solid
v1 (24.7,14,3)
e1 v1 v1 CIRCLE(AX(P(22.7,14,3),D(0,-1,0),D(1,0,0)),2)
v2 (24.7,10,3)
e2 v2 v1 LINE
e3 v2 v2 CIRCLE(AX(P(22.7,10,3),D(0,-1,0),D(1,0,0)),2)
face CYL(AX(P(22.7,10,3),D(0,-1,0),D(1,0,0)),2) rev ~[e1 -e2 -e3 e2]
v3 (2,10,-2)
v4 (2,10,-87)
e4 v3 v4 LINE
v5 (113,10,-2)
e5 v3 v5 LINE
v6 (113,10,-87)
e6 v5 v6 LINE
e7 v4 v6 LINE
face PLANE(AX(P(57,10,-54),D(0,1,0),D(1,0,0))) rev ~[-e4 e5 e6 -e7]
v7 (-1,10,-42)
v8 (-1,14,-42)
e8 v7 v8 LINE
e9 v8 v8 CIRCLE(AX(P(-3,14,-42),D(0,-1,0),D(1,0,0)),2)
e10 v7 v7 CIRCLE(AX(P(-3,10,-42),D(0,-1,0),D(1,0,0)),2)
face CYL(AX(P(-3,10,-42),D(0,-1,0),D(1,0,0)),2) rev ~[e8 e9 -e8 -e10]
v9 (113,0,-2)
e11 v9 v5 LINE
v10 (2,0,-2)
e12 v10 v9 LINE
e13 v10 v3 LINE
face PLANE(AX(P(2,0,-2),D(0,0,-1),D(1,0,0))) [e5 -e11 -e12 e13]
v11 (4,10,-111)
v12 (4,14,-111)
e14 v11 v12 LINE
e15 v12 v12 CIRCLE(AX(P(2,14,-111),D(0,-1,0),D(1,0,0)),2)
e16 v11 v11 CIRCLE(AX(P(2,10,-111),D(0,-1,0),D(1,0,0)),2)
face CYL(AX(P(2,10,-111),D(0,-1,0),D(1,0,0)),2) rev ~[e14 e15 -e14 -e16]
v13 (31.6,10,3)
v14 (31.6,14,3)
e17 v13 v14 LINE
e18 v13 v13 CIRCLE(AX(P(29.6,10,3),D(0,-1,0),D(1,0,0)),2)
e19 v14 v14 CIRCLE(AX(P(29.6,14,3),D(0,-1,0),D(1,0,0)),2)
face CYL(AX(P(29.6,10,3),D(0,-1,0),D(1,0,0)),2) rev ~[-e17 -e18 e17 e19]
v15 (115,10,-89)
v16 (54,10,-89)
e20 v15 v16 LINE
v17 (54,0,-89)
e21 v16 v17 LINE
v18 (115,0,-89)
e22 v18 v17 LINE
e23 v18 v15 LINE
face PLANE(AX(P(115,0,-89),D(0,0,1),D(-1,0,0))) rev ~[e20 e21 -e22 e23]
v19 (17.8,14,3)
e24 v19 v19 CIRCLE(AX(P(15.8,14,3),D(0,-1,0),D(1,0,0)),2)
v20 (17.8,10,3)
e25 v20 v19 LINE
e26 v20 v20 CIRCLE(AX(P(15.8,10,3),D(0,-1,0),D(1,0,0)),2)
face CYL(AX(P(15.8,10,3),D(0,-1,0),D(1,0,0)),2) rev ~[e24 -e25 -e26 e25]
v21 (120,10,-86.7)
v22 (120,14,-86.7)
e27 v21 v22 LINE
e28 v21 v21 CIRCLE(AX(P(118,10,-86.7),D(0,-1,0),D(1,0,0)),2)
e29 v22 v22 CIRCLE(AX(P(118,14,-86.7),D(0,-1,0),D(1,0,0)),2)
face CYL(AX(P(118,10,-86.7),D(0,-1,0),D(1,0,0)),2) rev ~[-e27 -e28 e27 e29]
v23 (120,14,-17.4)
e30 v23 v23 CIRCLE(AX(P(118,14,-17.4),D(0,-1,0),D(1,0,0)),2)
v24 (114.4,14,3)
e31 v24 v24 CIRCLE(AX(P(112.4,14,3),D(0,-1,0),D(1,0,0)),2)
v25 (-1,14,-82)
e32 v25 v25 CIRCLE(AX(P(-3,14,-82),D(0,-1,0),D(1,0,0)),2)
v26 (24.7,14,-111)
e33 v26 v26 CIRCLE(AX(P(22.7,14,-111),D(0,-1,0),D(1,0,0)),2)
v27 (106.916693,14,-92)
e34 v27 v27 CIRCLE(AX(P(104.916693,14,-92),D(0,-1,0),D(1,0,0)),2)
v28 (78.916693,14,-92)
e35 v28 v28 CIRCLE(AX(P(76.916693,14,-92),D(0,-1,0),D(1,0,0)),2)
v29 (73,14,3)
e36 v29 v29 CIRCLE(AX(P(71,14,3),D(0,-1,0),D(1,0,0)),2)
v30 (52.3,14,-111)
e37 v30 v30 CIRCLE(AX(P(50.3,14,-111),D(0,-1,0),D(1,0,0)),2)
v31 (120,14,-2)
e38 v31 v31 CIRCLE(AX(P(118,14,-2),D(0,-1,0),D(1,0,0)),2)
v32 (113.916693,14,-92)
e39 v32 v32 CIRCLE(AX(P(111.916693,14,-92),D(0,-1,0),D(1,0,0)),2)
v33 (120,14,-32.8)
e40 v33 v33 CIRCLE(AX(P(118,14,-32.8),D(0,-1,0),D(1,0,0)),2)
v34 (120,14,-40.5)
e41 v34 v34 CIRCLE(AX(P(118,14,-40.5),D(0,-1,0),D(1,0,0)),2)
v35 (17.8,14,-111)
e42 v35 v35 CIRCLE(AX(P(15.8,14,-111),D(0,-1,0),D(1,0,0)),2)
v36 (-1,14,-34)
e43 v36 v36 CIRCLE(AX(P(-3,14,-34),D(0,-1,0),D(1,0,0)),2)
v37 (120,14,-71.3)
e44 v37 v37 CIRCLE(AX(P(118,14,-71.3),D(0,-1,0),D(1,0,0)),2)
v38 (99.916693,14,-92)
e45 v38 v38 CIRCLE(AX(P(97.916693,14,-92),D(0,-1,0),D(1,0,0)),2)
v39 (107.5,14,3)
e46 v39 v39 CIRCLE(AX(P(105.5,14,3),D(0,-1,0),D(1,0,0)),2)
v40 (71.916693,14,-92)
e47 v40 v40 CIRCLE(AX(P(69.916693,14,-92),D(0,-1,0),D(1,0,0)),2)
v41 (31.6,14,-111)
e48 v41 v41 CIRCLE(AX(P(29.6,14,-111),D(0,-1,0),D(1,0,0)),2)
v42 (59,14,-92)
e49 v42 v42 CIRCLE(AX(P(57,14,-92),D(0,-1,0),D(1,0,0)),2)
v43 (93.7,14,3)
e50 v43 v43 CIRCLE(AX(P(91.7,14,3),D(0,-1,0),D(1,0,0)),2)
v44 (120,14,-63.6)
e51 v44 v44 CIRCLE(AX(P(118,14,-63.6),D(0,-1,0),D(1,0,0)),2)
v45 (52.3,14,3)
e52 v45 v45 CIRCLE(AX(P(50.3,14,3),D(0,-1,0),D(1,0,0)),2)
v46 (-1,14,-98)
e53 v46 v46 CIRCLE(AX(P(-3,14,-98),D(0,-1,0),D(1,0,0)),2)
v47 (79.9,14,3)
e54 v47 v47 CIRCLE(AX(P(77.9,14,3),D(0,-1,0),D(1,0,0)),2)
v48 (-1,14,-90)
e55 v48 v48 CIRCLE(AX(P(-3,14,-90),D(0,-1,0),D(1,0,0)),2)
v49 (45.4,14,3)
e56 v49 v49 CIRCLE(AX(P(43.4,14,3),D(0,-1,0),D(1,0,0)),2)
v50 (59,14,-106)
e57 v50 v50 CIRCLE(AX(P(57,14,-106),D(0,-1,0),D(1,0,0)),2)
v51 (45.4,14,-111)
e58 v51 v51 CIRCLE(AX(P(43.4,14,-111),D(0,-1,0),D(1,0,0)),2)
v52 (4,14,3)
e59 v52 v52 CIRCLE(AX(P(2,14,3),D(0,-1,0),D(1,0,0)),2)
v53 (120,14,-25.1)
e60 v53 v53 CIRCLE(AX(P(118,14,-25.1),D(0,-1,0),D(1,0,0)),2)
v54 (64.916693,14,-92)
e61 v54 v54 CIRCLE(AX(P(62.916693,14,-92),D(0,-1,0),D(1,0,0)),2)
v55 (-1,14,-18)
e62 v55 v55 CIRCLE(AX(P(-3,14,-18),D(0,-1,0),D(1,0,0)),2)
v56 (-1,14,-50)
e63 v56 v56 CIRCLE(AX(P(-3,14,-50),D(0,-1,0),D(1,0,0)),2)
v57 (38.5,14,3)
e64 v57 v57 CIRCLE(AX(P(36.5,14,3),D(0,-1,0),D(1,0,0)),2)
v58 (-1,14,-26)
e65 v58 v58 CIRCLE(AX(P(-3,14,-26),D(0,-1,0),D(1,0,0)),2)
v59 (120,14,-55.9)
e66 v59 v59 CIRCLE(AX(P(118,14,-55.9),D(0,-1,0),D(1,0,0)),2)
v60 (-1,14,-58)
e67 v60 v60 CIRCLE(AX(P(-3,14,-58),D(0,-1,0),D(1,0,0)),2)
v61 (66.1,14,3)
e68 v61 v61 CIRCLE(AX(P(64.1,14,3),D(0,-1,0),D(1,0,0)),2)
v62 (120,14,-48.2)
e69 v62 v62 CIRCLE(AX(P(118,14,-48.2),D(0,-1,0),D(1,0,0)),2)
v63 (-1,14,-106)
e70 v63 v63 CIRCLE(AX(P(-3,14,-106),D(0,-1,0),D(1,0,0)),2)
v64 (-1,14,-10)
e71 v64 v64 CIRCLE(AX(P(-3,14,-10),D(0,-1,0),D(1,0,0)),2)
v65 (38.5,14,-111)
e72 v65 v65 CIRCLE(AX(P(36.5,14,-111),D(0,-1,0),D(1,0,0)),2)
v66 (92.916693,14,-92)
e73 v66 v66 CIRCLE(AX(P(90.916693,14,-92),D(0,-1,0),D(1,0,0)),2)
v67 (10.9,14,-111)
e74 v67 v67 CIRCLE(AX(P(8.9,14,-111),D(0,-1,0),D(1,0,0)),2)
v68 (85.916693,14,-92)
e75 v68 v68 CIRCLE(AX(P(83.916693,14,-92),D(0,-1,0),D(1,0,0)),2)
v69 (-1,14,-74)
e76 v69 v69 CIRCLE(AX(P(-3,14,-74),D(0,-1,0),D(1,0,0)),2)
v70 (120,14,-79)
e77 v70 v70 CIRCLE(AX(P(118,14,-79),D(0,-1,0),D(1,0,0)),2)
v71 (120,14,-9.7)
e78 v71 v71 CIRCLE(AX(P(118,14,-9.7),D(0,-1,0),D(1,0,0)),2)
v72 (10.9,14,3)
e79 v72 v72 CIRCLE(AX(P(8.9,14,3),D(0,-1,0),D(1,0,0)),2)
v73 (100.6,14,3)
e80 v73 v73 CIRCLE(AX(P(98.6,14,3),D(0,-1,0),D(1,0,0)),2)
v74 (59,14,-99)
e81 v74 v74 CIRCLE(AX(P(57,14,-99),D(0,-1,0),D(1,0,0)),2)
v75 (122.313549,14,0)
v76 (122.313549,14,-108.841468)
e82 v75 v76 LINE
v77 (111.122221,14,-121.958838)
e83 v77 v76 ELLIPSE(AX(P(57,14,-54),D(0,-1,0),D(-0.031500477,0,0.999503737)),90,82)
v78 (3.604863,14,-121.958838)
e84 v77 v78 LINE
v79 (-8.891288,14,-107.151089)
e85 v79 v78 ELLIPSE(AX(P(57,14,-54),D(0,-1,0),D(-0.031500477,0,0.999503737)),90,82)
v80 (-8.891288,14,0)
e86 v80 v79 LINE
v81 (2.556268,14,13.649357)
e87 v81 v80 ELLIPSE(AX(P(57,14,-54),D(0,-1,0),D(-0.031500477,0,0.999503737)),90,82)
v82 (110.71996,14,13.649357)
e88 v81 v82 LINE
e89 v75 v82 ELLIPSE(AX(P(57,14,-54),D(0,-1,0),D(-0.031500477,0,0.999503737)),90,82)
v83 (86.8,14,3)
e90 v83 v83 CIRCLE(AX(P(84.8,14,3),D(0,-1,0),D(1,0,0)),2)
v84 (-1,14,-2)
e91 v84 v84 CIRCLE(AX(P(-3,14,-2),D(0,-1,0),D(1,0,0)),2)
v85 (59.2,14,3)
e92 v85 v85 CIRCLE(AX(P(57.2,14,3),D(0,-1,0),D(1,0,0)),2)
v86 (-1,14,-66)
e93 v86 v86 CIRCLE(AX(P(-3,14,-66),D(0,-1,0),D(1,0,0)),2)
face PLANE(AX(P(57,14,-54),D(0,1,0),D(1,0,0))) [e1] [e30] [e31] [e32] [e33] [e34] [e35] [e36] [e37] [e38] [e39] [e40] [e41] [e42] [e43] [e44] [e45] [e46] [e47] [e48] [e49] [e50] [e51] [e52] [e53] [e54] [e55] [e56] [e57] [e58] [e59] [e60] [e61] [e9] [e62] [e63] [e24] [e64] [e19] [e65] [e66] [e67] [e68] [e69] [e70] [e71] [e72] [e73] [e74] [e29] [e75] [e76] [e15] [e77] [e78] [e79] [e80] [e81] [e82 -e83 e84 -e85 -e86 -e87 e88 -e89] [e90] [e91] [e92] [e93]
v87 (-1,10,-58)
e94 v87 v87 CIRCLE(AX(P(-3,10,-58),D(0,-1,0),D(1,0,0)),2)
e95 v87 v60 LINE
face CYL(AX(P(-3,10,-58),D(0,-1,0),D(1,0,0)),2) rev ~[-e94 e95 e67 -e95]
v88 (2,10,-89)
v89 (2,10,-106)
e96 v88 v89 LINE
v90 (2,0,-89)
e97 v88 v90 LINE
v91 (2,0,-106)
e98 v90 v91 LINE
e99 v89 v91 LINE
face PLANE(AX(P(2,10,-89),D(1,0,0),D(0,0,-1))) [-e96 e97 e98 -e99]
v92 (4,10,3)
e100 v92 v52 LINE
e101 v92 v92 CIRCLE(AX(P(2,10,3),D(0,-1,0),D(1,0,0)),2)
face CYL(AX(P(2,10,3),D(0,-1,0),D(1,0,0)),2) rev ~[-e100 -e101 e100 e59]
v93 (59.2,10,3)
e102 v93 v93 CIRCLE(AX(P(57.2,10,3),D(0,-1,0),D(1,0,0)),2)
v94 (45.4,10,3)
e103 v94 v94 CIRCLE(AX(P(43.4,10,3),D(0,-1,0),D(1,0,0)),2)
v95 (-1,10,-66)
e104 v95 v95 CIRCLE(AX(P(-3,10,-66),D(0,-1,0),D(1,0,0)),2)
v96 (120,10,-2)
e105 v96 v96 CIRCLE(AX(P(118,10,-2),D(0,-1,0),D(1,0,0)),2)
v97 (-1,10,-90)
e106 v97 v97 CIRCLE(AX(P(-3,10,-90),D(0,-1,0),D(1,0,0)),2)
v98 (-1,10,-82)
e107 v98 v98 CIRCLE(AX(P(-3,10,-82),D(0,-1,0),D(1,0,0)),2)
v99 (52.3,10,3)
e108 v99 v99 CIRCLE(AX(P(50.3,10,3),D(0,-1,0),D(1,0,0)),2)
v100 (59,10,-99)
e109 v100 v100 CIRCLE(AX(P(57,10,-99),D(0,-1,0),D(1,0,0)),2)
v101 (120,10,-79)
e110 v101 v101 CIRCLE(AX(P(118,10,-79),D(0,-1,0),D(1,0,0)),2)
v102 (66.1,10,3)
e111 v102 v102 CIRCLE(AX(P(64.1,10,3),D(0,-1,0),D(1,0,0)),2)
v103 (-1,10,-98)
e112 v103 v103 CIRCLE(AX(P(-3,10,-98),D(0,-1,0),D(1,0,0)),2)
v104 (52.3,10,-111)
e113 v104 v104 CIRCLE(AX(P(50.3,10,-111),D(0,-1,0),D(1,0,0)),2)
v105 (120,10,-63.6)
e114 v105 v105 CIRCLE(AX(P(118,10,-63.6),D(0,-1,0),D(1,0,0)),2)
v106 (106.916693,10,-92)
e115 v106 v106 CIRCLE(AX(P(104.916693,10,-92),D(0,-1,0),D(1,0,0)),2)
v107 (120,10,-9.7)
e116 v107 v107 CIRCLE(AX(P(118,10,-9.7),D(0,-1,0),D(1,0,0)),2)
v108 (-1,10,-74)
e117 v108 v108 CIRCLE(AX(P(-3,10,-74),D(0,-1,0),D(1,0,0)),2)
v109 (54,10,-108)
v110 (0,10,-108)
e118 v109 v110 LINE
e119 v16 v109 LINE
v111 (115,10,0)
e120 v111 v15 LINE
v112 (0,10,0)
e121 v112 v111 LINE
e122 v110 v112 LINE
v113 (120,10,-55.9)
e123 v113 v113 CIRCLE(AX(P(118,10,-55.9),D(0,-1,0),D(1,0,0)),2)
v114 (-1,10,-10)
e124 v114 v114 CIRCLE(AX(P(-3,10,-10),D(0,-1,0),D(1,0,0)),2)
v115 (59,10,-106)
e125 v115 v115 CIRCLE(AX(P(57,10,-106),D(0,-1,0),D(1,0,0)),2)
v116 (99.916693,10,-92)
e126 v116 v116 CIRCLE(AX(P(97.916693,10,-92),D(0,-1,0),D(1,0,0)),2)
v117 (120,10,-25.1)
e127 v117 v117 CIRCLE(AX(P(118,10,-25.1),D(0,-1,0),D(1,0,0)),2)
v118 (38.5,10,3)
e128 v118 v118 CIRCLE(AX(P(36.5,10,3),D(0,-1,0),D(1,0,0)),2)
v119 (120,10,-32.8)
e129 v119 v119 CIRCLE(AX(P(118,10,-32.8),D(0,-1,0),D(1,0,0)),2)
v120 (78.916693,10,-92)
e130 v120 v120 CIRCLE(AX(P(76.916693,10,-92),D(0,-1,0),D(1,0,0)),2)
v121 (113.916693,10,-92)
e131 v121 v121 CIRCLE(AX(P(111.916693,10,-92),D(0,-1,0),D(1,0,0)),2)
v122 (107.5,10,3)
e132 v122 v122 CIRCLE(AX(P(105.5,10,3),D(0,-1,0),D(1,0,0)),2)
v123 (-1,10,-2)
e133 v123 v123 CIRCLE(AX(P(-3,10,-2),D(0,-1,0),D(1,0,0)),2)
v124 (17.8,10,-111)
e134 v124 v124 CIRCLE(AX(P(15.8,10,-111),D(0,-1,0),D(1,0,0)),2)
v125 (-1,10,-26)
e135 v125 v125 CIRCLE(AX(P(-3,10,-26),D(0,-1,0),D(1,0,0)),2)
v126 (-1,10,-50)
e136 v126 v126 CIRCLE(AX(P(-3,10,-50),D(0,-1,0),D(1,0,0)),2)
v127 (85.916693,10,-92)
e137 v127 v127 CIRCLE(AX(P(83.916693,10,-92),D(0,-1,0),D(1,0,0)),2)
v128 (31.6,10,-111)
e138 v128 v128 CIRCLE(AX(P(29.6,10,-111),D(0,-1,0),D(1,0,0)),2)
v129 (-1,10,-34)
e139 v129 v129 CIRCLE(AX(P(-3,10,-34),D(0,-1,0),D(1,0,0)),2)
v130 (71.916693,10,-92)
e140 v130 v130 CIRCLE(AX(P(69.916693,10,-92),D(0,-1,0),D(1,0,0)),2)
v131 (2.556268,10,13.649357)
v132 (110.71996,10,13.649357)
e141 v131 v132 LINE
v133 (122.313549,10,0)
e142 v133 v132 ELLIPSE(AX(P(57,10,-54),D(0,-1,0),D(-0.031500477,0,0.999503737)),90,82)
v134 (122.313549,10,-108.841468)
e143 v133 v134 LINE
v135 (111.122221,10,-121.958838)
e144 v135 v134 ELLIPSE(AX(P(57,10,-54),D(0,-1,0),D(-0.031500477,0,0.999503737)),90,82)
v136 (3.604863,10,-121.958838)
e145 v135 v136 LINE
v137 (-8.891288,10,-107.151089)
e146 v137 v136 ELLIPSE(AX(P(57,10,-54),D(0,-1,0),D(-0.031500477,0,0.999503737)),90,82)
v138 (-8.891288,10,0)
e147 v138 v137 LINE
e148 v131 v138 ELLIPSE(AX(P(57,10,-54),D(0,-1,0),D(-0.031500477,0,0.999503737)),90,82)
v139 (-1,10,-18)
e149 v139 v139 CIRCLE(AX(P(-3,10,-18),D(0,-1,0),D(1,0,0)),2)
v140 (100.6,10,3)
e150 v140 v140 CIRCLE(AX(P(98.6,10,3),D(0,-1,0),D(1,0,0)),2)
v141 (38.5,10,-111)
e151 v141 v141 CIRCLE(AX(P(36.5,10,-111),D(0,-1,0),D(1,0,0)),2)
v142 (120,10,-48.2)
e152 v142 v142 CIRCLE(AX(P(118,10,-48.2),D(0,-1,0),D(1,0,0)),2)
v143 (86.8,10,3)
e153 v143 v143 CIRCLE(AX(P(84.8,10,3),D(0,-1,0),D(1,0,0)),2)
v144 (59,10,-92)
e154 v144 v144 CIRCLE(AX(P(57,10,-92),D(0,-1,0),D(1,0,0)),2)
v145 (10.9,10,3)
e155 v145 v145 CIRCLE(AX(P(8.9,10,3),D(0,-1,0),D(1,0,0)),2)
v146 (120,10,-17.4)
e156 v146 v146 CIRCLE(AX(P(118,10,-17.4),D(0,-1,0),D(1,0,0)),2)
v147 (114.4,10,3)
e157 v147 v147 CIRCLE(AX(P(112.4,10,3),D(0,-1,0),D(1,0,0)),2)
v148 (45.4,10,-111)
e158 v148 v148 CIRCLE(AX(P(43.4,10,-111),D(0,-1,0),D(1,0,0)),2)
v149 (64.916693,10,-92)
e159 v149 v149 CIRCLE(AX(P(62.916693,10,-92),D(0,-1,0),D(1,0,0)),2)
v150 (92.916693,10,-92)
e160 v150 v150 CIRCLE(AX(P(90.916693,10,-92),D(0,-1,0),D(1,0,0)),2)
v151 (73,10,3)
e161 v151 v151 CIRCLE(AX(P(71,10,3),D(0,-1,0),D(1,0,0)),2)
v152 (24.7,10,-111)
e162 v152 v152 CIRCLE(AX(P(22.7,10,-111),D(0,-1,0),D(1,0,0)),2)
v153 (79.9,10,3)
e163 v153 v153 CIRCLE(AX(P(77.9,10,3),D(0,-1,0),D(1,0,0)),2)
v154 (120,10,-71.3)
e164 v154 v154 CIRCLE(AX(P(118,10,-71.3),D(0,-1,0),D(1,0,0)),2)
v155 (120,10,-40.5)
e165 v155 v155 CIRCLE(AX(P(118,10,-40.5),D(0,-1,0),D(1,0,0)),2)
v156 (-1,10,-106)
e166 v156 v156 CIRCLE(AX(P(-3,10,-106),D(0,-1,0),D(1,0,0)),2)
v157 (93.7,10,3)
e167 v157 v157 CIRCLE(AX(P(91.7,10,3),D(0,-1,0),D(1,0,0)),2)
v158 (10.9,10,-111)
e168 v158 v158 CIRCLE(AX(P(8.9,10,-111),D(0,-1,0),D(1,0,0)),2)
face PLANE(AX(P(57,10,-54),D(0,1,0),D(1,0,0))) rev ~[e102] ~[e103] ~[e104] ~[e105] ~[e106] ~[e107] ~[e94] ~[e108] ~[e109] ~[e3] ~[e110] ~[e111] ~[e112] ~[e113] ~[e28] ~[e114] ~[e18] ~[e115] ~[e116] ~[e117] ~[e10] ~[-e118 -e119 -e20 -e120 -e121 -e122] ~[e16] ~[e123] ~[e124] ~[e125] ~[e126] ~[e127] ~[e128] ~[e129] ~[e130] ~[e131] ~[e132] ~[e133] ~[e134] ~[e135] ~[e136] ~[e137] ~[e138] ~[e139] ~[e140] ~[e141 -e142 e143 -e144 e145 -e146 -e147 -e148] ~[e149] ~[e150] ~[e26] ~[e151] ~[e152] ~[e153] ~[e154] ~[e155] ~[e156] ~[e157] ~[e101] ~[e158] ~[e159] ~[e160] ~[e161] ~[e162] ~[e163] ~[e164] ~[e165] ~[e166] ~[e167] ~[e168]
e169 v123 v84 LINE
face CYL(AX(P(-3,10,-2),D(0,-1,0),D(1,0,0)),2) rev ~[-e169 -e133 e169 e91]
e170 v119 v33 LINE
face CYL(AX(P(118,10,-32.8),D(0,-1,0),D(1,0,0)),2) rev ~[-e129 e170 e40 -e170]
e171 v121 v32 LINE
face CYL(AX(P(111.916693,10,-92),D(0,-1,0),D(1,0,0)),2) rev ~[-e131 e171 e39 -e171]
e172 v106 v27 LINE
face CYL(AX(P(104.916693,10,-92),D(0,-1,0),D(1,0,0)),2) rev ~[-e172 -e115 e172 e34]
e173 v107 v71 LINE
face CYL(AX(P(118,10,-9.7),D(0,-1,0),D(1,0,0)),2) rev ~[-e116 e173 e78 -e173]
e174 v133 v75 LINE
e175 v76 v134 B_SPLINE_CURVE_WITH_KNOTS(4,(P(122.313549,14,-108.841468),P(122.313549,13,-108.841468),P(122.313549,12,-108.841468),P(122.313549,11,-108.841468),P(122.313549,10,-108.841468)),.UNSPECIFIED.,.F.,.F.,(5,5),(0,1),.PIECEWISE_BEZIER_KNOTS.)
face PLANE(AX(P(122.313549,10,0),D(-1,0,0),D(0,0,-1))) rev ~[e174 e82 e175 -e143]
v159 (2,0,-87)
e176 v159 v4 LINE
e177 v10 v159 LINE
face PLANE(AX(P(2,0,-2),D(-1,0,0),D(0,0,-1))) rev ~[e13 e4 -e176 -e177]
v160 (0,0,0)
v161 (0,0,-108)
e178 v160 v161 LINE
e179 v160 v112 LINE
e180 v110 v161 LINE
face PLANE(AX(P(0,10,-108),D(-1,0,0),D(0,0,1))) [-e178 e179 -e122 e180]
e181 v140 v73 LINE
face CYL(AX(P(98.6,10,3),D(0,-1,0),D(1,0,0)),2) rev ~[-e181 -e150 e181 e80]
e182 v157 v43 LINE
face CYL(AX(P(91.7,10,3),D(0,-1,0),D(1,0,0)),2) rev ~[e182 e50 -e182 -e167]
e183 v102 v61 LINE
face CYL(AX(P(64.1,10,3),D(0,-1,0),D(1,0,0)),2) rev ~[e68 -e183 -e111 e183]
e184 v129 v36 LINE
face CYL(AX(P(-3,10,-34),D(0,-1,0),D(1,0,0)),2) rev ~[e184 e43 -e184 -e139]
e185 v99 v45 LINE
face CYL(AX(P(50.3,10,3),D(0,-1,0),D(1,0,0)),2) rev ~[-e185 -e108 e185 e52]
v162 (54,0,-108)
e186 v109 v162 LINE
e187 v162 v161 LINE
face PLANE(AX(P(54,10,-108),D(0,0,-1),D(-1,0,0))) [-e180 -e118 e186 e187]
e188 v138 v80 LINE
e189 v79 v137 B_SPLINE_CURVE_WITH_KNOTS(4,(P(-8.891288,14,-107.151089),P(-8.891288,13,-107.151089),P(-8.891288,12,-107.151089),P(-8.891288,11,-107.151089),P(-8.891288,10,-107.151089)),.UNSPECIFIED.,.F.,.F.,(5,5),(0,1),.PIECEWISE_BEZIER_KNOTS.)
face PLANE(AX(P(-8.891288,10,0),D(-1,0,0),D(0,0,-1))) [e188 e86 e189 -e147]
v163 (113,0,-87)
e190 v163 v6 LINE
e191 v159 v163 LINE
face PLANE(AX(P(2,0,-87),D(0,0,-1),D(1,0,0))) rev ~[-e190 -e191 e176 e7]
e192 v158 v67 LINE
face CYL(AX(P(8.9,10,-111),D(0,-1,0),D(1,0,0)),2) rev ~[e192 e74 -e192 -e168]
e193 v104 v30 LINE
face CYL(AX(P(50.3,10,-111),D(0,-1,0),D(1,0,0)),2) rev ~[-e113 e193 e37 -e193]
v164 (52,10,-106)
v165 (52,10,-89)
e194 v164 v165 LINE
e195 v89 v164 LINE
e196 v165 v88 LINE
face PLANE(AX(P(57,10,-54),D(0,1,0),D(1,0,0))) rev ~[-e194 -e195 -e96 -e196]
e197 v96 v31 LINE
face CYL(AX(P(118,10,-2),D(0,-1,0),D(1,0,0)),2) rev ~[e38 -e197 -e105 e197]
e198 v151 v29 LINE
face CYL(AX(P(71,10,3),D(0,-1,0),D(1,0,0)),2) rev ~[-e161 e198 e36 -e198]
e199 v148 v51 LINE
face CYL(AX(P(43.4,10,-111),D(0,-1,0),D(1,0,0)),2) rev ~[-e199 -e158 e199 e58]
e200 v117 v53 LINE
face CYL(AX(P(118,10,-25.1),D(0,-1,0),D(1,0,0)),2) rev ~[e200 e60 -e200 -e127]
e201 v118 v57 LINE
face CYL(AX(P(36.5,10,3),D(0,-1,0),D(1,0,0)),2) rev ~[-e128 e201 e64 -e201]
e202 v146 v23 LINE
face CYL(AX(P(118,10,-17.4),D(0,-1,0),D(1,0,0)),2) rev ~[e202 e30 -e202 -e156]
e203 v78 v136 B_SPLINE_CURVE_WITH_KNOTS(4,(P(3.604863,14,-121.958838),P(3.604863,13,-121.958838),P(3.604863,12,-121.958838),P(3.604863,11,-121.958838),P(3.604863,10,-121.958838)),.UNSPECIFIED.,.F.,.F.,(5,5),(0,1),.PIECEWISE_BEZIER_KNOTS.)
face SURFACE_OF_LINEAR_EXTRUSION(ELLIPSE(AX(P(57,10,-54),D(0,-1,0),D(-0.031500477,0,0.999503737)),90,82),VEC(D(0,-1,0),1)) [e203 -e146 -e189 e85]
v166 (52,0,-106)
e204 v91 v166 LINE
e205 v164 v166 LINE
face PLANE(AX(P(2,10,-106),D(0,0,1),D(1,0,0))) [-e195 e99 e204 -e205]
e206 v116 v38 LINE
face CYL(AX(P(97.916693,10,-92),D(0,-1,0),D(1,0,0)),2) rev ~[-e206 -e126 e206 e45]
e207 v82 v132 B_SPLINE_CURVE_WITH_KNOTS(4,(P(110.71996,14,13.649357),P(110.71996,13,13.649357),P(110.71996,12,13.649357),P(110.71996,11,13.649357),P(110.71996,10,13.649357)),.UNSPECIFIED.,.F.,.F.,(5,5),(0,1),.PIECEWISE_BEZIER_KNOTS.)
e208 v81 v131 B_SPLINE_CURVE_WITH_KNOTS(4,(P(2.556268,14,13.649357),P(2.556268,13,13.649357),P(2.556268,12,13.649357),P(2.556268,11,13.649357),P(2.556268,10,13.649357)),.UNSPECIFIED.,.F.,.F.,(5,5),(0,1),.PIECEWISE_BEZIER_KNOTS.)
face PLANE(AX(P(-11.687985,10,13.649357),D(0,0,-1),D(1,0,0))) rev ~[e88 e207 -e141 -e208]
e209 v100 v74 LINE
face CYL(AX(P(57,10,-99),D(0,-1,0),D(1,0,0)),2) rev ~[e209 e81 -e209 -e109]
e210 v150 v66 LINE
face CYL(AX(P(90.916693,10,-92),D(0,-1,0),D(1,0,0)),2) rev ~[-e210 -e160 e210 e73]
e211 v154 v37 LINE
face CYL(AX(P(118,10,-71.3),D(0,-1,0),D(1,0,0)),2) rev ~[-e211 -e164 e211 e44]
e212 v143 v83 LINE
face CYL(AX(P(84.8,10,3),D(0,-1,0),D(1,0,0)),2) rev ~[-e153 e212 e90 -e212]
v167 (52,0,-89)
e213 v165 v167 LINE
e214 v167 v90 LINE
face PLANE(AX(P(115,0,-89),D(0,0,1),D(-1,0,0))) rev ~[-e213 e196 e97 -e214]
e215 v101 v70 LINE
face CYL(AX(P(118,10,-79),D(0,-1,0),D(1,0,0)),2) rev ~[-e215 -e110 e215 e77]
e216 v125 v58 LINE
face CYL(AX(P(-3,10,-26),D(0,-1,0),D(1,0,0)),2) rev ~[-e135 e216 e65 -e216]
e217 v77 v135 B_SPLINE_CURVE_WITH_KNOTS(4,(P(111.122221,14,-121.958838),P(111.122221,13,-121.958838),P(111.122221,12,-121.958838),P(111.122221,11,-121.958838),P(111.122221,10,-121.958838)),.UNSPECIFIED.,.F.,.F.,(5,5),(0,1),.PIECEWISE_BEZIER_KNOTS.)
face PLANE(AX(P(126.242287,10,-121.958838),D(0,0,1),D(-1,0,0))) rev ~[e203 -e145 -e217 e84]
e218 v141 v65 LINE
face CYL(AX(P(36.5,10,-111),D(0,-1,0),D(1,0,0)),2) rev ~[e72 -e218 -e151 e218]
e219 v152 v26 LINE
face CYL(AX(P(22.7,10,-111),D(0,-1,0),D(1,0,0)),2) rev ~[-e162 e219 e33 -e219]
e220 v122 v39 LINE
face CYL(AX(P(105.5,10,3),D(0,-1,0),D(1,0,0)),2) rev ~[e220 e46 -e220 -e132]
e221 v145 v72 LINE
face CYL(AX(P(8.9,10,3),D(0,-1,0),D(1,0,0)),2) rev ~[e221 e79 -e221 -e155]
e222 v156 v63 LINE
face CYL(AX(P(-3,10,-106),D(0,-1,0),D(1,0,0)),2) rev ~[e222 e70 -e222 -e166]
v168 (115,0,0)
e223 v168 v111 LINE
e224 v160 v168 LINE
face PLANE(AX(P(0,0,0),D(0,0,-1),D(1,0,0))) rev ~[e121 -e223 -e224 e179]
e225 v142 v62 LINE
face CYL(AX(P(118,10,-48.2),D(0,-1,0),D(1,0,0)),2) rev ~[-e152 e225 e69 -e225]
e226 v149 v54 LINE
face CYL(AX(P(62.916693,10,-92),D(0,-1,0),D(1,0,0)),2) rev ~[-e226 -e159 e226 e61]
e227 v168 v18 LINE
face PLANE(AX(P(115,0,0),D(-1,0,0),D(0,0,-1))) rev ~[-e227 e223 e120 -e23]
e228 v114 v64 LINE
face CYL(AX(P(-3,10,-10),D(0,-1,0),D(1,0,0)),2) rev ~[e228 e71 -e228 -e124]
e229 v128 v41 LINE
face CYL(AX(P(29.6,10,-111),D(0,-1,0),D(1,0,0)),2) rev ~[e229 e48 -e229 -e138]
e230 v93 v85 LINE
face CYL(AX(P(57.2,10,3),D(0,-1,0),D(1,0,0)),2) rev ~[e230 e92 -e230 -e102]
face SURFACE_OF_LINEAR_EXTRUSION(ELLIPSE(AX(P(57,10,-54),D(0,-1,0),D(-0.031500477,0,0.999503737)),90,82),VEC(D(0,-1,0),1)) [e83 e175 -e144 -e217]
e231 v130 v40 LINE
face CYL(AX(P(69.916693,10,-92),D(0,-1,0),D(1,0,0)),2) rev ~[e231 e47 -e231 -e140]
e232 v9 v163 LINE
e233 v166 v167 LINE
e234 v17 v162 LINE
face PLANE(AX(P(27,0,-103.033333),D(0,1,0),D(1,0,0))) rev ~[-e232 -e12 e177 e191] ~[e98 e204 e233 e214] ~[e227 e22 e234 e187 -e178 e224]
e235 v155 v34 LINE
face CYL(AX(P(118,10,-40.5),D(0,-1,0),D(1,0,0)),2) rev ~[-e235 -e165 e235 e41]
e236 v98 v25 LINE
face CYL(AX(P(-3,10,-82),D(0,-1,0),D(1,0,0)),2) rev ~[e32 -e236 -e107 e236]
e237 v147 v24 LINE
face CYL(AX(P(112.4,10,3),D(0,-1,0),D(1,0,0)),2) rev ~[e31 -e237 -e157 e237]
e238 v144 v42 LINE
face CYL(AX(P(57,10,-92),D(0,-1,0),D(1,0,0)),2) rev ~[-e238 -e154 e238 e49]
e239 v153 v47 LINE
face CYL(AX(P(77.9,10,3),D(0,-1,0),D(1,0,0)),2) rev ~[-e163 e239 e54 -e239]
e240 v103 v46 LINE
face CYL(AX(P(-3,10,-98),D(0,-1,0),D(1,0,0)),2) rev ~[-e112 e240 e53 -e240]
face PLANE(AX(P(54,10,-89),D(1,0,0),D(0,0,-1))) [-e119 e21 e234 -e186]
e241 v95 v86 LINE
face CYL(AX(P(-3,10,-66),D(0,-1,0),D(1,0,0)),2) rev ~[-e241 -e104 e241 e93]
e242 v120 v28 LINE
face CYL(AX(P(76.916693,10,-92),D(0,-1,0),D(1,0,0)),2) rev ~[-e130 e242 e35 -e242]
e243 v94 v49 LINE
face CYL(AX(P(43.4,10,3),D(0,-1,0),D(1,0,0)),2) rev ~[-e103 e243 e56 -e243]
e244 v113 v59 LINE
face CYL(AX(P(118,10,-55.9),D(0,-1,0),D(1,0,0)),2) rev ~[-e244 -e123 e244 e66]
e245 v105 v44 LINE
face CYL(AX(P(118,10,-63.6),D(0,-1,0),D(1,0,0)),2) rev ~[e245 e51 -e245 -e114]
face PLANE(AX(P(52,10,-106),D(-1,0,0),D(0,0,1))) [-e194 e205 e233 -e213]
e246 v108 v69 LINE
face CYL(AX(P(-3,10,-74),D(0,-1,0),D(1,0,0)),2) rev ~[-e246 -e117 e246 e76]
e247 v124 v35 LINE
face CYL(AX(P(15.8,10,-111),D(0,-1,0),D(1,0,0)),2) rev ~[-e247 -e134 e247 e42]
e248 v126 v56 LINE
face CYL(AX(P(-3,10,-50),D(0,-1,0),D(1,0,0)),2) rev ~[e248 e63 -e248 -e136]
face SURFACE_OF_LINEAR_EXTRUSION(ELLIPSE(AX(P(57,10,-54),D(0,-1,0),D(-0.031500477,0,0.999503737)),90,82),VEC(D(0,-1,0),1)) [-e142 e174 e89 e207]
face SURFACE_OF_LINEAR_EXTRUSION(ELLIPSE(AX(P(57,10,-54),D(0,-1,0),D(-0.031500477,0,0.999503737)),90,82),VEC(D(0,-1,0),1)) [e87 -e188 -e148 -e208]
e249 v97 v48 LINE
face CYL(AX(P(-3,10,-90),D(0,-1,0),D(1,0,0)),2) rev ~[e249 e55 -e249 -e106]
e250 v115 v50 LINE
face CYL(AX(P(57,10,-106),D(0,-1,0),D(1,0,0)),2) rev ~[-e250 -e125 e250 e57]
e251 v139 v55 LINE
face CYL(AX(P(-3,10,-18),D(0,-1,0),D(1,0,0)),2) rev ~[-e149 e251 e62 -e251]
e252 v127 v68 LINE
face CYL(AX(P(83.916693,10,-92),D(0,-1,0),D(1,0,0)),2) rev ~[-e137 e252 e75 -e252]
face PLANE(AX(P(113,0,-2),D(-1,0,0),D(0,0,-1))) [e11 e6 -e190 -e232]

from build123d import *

# Parameters (mm, degrees)
SKETCH1_W           = 111
SKETCH1_H           = 85
BOSS_EXTRUDE2_DEPTH = 10
BOSS_EXTRUDE3_DEPTH = 10
SKETCH6_W           = 164
SKETCH6_H           = 158
BOSS_EXTRUDE4_DEPTH = 4
SKETCH9_R           = 2
CUT_EXTRUDE2_DEPTH  = 4
SKETCH10_W          = 186.872555015
SKETCH10_H          = 195.411118235
SKETCH10_RX         = 90
SKETCH10_RY         = 82
CUT_EXTRUDE3_DEPTH  = 4
SKETCH12_W          = 135.891970627
SKETCH12_H          = 13.567997068
CUT_EXTRUDE4_DEPTH  = 4
SKETCH13_W          = 129.508722698
SKETCH13_H          = 20.729944062
CUT_EXTRUDE5_DEPTH  = 4
SKETCH15_W          = 21.747653555
SKETCH15_H          = 111.151158821
SKETCH15_W_2        = 52.162007652
SKETCH15_H_2        = 113.873917653
CUT_EXTRUDE6_DEPTH  = 4


with BuildPart() as part:
    # Sketch1 → Boss-Extrude2 (new body)
    with BuildSketch(Plane(origin=(0, 0, 0), x_dir=(1, 0, 0), z_dir=(0, 1, 0))):
        Polygon((0, 89), (0, 0), (115, 0), (115, 89), (112, 89), (64, 89), (62, 89), align=None)
        with Locations((57.5, 44.5)):
            Rectangle(SKETCH1_W, SKETCH1_H, mode=Mode.SUBTRACT)
    extrude(amount=BOSS_EXTRUDE2_DEPTH)

    # Sketch5 → Boss-Extrude3 (add)
    with BuildSketch(Plane(origin=(0, 10, 0), x_dir=(1, 0, 0), z_dir=(0, 1, 0))):
        Polygon((54, 89), (54, 108), (0, 108), (0, 89), (2, 89), (2, 106), (52, 106), (52, 89), align=None)
    extrude(amount=-BOSS_EXTRUDE3_DEPTH)

    # Sketch6 → Boss-Extrude4 (add)
    with BuildSketch(Plane(origin=(0, 10, 0), x_dir=(1, 0, 0), z_dir=(0, 1, 0))):
        with Locations((57, 54)):
            Rectangle(SKETCH6_W, SKETCH6_H)
    extrude(amount=BOSS_EXTRUDE4_DEPTH)

    # Sketch9 → Cut-Extrude2 (cut)
    with BuildSketch(Plane.XZ.offset(-10)):
        with Locations((2, 3)):
            Circle(SKETCH9_R)
        with Locations((8.9, 3)):
            Circle(SKETCH9_R)
        with Locations((15.8, 3)):
            Circle(SKETCH9_R)
        with Locations((22.7, 3)):
            Circle(SKETCH9_R)
        with Locations((29.6, 3)):
            Circle(SKETCH9_R)
        with Locations((36.5, 3)):
            Circle(SKETCH9_R)
        with Locations((43.4, 3)):
            Circle(SKETCH9_R)
        with Locations((50.3, 3)):
            Circle(SKETCH9_R)
        with Locations((57.2, 3)):
            Circle(SKETCH9_R)
        with Locations((64.1, 3)):
            Circle(SKETCH9_R)
        with Locations((71, 3)):
            Circle(SKETCH9_R)
        with Locations((77.9, 3)):
            Circle(SKETCH9_R)
        with Locations((-3, -2)):
            Circle(SKETCH9_R)
        with Locations((-3, -10)):
            Circle(SKETCH9_R)
        with Locations((-3, -18)):
            Circle(SKETCH9_R)
        with Locations((-3, -26)):
            Circle(SKETCH9_R)
        with Locations((-3, -34)):
            Circle(SKETCH9_R)
        with Locations((-3, -42)):
            Circle(SKETCH9_R)
        with Locations((-3, -50)):
            Circle(SKETCH9_R)
        with Locations((-3, -58)):
            Circle(SKETCH9_R)
        with Locations((-3, -66)):
            Circle(SKETCH9_R)
        with Locations((-3, -74)):
            Circle(SKETCH9_R)
        with Locations((-3, -82)):
            Circle(SKETCH9_R)
        with Locations((-3, -90)):
            Circle(SKETCH9_R)
        with Locations((-3, -98)):
            Circle(SKETCH9_R)
        with Locations((-3, -106)):
            Circle(SKETCH9_R)
        with Locations((118, -2)):
            Circle(SKETCH9_R)
        with Locations((118, -9.7)):
            Circle(SKETCH9_R)
        with Locations((118, -17.4)):
            Circle(SKETCH9_R)
        with Locations((118, -25.1)):
            Circle(SKETCH9_R)
        with Locations((118, -32.8)):
            Circle(SKETCH9_R)
        with Locations((118, -40.5)):
            Circle(SKETCH9_R)
        with Locations((118, -48.2)):
            Circle(SKETCH9_R)
        with Locations((118, -55.9)):
            Circle(SKETCH9_R)
        with Locations((118, -63.6)):
            Circle(SKETCH9_R)
        with Locations((118, -71.3)):
            Circle(SKETCH9_R)
        with Locations((118, -79)):
            Circle(SKETCH9_R)
        with Locations((118, -86.7)):
            Circle(SKETCH9_R)
        with Locations((2, -111)):
            Circle(SKETCH9_R)
        with Locations((8.9, -111)):
            Circle(SKETCH9_R)
        with Locations((15.8, -111)):
            Circle(SKETCH9_R)
        with Locations((22.7, -111)):
            Circle(SKETCH9_R)
        with Locations((29.6, -111)):
            Circle(SKETCH9_R)
        with Locations((36.5, -111)):
            Circle(SKETCH9_R)
        with Locations((43.4, -111)):
            Circle(SKETCH9_R)
        with Locations((50.3, -111)):
            Circle(SKETCH9_R)
        with Locations((57, -106)):
            Circle(SKETCH9_R)
        with Locations((57, -99)):
            Circle(SKETCH9_R)
        with Locations((57, -92)):
            Circle(SKETCH9_R)
        with Locations((111.916693377, -92)):
            Circle(SKETCH9_R)
        with Locations((104.916693377, -92)):
            Circle(SKETCH9_R)
        with Locations((97.916693377, -92)):
            Circle(SKETCH9_R)
        with Locations((90.916693377, -92)):
            Circle(SKETCH9_R)
        with Locations((83.916693377, -92)):
            Circle(SKETCH9_R)
        with Locations((76.916693377, -92)):
            Circle(SKETCH9_R)
        with Locations((69.916693377, -92)):
            Circle(SKETCH9_R)
        with Locations((62.916693377, -92)):
            Circle(SKETCH9_R)
        with Locations((84.8, 3)):
            Circle(SKETCH9_R)
        with Locations((91.7, 3)):
            Circle(SKETCH9_R)
        with Locations((98.6, 3)):
            Circle(SKETCH9_R)
        with Locations((105.5, 3)):
            Circle(SKETCH9_R)
        with Locations((112.4, 3)):
            Circle(SKETCH9_R)
    extrude(amount=-CUT_EXTRUDE2_DEPTH, mode=Mode.SUBTRACT)

    # Sketch10 → Cut-Extrude3 (cut)
    with BuildSketch(Plane(origin=(0, 10, 0), x_dir=(-1, 0, 0), z_dir=(0, -1, 0))):
        with Locations((-60.171466338, 51.926348933)):
            Rectangle(SKETCH10_W, SKETCH10_H)
        with Locations(Location((-57, 54), (0, 0, -88.194857017))):
            Ellipse(SKETCH10_RX, SKETCH10_RY, mode=Mode.SUBTRACT)
    extrude(amount=-CUT_EXTRUDE3_DEPTH, mode=Mode.SUBTRACT)

    # Sketch12 → Cut-Extrude4 (cut)
    with BuildSketch(Plane.XZ.offset(-10)):
        with Locations((56.258000161, 20.433355362)):
            Rectangle(SKETCH12_W, SKETCH12_H)
    extrude(amount=-CUT_EXTRUDE4_DEPTH, mode=Mode.SUBTRACT)

    # Sketch13 → Cut-Extrude5 (cut)
    with BuildSketch(Plane(origin=(0, 10, 0), x_dir=(-1, 0, 0), z_dir=(0, -1, 0))):
        with Locations((-61.487926034, 132.323810054)):
            Rectangle(SKETCH13_W, SKETCH13_H)
    extrude(amount=-CUT_EXTRUDE5_DEPTH, mode=Mode.SUBTRACT)

    # Sketch15 → Cut-Extrude6 (cut)
    with BuildSketch(Plane(origin=(0, 10, 0), x_dir=(-1, 0, 0), z_dir=(0, -1, 0))):
        with Locations((19.765115189, 55.575579411)):
            Rectangle(SKETCH15_W, SKETCH15_H)
        with Locations((-148.394552911, 56.936958827)):
            Rectangle(SKETCH15_W_2, SKETCH15_H_2)
    extrude(amount=-CUT_EXTRUDE6_DEPTH, mode=Mode.SUBTRACT)


solid = part.part
